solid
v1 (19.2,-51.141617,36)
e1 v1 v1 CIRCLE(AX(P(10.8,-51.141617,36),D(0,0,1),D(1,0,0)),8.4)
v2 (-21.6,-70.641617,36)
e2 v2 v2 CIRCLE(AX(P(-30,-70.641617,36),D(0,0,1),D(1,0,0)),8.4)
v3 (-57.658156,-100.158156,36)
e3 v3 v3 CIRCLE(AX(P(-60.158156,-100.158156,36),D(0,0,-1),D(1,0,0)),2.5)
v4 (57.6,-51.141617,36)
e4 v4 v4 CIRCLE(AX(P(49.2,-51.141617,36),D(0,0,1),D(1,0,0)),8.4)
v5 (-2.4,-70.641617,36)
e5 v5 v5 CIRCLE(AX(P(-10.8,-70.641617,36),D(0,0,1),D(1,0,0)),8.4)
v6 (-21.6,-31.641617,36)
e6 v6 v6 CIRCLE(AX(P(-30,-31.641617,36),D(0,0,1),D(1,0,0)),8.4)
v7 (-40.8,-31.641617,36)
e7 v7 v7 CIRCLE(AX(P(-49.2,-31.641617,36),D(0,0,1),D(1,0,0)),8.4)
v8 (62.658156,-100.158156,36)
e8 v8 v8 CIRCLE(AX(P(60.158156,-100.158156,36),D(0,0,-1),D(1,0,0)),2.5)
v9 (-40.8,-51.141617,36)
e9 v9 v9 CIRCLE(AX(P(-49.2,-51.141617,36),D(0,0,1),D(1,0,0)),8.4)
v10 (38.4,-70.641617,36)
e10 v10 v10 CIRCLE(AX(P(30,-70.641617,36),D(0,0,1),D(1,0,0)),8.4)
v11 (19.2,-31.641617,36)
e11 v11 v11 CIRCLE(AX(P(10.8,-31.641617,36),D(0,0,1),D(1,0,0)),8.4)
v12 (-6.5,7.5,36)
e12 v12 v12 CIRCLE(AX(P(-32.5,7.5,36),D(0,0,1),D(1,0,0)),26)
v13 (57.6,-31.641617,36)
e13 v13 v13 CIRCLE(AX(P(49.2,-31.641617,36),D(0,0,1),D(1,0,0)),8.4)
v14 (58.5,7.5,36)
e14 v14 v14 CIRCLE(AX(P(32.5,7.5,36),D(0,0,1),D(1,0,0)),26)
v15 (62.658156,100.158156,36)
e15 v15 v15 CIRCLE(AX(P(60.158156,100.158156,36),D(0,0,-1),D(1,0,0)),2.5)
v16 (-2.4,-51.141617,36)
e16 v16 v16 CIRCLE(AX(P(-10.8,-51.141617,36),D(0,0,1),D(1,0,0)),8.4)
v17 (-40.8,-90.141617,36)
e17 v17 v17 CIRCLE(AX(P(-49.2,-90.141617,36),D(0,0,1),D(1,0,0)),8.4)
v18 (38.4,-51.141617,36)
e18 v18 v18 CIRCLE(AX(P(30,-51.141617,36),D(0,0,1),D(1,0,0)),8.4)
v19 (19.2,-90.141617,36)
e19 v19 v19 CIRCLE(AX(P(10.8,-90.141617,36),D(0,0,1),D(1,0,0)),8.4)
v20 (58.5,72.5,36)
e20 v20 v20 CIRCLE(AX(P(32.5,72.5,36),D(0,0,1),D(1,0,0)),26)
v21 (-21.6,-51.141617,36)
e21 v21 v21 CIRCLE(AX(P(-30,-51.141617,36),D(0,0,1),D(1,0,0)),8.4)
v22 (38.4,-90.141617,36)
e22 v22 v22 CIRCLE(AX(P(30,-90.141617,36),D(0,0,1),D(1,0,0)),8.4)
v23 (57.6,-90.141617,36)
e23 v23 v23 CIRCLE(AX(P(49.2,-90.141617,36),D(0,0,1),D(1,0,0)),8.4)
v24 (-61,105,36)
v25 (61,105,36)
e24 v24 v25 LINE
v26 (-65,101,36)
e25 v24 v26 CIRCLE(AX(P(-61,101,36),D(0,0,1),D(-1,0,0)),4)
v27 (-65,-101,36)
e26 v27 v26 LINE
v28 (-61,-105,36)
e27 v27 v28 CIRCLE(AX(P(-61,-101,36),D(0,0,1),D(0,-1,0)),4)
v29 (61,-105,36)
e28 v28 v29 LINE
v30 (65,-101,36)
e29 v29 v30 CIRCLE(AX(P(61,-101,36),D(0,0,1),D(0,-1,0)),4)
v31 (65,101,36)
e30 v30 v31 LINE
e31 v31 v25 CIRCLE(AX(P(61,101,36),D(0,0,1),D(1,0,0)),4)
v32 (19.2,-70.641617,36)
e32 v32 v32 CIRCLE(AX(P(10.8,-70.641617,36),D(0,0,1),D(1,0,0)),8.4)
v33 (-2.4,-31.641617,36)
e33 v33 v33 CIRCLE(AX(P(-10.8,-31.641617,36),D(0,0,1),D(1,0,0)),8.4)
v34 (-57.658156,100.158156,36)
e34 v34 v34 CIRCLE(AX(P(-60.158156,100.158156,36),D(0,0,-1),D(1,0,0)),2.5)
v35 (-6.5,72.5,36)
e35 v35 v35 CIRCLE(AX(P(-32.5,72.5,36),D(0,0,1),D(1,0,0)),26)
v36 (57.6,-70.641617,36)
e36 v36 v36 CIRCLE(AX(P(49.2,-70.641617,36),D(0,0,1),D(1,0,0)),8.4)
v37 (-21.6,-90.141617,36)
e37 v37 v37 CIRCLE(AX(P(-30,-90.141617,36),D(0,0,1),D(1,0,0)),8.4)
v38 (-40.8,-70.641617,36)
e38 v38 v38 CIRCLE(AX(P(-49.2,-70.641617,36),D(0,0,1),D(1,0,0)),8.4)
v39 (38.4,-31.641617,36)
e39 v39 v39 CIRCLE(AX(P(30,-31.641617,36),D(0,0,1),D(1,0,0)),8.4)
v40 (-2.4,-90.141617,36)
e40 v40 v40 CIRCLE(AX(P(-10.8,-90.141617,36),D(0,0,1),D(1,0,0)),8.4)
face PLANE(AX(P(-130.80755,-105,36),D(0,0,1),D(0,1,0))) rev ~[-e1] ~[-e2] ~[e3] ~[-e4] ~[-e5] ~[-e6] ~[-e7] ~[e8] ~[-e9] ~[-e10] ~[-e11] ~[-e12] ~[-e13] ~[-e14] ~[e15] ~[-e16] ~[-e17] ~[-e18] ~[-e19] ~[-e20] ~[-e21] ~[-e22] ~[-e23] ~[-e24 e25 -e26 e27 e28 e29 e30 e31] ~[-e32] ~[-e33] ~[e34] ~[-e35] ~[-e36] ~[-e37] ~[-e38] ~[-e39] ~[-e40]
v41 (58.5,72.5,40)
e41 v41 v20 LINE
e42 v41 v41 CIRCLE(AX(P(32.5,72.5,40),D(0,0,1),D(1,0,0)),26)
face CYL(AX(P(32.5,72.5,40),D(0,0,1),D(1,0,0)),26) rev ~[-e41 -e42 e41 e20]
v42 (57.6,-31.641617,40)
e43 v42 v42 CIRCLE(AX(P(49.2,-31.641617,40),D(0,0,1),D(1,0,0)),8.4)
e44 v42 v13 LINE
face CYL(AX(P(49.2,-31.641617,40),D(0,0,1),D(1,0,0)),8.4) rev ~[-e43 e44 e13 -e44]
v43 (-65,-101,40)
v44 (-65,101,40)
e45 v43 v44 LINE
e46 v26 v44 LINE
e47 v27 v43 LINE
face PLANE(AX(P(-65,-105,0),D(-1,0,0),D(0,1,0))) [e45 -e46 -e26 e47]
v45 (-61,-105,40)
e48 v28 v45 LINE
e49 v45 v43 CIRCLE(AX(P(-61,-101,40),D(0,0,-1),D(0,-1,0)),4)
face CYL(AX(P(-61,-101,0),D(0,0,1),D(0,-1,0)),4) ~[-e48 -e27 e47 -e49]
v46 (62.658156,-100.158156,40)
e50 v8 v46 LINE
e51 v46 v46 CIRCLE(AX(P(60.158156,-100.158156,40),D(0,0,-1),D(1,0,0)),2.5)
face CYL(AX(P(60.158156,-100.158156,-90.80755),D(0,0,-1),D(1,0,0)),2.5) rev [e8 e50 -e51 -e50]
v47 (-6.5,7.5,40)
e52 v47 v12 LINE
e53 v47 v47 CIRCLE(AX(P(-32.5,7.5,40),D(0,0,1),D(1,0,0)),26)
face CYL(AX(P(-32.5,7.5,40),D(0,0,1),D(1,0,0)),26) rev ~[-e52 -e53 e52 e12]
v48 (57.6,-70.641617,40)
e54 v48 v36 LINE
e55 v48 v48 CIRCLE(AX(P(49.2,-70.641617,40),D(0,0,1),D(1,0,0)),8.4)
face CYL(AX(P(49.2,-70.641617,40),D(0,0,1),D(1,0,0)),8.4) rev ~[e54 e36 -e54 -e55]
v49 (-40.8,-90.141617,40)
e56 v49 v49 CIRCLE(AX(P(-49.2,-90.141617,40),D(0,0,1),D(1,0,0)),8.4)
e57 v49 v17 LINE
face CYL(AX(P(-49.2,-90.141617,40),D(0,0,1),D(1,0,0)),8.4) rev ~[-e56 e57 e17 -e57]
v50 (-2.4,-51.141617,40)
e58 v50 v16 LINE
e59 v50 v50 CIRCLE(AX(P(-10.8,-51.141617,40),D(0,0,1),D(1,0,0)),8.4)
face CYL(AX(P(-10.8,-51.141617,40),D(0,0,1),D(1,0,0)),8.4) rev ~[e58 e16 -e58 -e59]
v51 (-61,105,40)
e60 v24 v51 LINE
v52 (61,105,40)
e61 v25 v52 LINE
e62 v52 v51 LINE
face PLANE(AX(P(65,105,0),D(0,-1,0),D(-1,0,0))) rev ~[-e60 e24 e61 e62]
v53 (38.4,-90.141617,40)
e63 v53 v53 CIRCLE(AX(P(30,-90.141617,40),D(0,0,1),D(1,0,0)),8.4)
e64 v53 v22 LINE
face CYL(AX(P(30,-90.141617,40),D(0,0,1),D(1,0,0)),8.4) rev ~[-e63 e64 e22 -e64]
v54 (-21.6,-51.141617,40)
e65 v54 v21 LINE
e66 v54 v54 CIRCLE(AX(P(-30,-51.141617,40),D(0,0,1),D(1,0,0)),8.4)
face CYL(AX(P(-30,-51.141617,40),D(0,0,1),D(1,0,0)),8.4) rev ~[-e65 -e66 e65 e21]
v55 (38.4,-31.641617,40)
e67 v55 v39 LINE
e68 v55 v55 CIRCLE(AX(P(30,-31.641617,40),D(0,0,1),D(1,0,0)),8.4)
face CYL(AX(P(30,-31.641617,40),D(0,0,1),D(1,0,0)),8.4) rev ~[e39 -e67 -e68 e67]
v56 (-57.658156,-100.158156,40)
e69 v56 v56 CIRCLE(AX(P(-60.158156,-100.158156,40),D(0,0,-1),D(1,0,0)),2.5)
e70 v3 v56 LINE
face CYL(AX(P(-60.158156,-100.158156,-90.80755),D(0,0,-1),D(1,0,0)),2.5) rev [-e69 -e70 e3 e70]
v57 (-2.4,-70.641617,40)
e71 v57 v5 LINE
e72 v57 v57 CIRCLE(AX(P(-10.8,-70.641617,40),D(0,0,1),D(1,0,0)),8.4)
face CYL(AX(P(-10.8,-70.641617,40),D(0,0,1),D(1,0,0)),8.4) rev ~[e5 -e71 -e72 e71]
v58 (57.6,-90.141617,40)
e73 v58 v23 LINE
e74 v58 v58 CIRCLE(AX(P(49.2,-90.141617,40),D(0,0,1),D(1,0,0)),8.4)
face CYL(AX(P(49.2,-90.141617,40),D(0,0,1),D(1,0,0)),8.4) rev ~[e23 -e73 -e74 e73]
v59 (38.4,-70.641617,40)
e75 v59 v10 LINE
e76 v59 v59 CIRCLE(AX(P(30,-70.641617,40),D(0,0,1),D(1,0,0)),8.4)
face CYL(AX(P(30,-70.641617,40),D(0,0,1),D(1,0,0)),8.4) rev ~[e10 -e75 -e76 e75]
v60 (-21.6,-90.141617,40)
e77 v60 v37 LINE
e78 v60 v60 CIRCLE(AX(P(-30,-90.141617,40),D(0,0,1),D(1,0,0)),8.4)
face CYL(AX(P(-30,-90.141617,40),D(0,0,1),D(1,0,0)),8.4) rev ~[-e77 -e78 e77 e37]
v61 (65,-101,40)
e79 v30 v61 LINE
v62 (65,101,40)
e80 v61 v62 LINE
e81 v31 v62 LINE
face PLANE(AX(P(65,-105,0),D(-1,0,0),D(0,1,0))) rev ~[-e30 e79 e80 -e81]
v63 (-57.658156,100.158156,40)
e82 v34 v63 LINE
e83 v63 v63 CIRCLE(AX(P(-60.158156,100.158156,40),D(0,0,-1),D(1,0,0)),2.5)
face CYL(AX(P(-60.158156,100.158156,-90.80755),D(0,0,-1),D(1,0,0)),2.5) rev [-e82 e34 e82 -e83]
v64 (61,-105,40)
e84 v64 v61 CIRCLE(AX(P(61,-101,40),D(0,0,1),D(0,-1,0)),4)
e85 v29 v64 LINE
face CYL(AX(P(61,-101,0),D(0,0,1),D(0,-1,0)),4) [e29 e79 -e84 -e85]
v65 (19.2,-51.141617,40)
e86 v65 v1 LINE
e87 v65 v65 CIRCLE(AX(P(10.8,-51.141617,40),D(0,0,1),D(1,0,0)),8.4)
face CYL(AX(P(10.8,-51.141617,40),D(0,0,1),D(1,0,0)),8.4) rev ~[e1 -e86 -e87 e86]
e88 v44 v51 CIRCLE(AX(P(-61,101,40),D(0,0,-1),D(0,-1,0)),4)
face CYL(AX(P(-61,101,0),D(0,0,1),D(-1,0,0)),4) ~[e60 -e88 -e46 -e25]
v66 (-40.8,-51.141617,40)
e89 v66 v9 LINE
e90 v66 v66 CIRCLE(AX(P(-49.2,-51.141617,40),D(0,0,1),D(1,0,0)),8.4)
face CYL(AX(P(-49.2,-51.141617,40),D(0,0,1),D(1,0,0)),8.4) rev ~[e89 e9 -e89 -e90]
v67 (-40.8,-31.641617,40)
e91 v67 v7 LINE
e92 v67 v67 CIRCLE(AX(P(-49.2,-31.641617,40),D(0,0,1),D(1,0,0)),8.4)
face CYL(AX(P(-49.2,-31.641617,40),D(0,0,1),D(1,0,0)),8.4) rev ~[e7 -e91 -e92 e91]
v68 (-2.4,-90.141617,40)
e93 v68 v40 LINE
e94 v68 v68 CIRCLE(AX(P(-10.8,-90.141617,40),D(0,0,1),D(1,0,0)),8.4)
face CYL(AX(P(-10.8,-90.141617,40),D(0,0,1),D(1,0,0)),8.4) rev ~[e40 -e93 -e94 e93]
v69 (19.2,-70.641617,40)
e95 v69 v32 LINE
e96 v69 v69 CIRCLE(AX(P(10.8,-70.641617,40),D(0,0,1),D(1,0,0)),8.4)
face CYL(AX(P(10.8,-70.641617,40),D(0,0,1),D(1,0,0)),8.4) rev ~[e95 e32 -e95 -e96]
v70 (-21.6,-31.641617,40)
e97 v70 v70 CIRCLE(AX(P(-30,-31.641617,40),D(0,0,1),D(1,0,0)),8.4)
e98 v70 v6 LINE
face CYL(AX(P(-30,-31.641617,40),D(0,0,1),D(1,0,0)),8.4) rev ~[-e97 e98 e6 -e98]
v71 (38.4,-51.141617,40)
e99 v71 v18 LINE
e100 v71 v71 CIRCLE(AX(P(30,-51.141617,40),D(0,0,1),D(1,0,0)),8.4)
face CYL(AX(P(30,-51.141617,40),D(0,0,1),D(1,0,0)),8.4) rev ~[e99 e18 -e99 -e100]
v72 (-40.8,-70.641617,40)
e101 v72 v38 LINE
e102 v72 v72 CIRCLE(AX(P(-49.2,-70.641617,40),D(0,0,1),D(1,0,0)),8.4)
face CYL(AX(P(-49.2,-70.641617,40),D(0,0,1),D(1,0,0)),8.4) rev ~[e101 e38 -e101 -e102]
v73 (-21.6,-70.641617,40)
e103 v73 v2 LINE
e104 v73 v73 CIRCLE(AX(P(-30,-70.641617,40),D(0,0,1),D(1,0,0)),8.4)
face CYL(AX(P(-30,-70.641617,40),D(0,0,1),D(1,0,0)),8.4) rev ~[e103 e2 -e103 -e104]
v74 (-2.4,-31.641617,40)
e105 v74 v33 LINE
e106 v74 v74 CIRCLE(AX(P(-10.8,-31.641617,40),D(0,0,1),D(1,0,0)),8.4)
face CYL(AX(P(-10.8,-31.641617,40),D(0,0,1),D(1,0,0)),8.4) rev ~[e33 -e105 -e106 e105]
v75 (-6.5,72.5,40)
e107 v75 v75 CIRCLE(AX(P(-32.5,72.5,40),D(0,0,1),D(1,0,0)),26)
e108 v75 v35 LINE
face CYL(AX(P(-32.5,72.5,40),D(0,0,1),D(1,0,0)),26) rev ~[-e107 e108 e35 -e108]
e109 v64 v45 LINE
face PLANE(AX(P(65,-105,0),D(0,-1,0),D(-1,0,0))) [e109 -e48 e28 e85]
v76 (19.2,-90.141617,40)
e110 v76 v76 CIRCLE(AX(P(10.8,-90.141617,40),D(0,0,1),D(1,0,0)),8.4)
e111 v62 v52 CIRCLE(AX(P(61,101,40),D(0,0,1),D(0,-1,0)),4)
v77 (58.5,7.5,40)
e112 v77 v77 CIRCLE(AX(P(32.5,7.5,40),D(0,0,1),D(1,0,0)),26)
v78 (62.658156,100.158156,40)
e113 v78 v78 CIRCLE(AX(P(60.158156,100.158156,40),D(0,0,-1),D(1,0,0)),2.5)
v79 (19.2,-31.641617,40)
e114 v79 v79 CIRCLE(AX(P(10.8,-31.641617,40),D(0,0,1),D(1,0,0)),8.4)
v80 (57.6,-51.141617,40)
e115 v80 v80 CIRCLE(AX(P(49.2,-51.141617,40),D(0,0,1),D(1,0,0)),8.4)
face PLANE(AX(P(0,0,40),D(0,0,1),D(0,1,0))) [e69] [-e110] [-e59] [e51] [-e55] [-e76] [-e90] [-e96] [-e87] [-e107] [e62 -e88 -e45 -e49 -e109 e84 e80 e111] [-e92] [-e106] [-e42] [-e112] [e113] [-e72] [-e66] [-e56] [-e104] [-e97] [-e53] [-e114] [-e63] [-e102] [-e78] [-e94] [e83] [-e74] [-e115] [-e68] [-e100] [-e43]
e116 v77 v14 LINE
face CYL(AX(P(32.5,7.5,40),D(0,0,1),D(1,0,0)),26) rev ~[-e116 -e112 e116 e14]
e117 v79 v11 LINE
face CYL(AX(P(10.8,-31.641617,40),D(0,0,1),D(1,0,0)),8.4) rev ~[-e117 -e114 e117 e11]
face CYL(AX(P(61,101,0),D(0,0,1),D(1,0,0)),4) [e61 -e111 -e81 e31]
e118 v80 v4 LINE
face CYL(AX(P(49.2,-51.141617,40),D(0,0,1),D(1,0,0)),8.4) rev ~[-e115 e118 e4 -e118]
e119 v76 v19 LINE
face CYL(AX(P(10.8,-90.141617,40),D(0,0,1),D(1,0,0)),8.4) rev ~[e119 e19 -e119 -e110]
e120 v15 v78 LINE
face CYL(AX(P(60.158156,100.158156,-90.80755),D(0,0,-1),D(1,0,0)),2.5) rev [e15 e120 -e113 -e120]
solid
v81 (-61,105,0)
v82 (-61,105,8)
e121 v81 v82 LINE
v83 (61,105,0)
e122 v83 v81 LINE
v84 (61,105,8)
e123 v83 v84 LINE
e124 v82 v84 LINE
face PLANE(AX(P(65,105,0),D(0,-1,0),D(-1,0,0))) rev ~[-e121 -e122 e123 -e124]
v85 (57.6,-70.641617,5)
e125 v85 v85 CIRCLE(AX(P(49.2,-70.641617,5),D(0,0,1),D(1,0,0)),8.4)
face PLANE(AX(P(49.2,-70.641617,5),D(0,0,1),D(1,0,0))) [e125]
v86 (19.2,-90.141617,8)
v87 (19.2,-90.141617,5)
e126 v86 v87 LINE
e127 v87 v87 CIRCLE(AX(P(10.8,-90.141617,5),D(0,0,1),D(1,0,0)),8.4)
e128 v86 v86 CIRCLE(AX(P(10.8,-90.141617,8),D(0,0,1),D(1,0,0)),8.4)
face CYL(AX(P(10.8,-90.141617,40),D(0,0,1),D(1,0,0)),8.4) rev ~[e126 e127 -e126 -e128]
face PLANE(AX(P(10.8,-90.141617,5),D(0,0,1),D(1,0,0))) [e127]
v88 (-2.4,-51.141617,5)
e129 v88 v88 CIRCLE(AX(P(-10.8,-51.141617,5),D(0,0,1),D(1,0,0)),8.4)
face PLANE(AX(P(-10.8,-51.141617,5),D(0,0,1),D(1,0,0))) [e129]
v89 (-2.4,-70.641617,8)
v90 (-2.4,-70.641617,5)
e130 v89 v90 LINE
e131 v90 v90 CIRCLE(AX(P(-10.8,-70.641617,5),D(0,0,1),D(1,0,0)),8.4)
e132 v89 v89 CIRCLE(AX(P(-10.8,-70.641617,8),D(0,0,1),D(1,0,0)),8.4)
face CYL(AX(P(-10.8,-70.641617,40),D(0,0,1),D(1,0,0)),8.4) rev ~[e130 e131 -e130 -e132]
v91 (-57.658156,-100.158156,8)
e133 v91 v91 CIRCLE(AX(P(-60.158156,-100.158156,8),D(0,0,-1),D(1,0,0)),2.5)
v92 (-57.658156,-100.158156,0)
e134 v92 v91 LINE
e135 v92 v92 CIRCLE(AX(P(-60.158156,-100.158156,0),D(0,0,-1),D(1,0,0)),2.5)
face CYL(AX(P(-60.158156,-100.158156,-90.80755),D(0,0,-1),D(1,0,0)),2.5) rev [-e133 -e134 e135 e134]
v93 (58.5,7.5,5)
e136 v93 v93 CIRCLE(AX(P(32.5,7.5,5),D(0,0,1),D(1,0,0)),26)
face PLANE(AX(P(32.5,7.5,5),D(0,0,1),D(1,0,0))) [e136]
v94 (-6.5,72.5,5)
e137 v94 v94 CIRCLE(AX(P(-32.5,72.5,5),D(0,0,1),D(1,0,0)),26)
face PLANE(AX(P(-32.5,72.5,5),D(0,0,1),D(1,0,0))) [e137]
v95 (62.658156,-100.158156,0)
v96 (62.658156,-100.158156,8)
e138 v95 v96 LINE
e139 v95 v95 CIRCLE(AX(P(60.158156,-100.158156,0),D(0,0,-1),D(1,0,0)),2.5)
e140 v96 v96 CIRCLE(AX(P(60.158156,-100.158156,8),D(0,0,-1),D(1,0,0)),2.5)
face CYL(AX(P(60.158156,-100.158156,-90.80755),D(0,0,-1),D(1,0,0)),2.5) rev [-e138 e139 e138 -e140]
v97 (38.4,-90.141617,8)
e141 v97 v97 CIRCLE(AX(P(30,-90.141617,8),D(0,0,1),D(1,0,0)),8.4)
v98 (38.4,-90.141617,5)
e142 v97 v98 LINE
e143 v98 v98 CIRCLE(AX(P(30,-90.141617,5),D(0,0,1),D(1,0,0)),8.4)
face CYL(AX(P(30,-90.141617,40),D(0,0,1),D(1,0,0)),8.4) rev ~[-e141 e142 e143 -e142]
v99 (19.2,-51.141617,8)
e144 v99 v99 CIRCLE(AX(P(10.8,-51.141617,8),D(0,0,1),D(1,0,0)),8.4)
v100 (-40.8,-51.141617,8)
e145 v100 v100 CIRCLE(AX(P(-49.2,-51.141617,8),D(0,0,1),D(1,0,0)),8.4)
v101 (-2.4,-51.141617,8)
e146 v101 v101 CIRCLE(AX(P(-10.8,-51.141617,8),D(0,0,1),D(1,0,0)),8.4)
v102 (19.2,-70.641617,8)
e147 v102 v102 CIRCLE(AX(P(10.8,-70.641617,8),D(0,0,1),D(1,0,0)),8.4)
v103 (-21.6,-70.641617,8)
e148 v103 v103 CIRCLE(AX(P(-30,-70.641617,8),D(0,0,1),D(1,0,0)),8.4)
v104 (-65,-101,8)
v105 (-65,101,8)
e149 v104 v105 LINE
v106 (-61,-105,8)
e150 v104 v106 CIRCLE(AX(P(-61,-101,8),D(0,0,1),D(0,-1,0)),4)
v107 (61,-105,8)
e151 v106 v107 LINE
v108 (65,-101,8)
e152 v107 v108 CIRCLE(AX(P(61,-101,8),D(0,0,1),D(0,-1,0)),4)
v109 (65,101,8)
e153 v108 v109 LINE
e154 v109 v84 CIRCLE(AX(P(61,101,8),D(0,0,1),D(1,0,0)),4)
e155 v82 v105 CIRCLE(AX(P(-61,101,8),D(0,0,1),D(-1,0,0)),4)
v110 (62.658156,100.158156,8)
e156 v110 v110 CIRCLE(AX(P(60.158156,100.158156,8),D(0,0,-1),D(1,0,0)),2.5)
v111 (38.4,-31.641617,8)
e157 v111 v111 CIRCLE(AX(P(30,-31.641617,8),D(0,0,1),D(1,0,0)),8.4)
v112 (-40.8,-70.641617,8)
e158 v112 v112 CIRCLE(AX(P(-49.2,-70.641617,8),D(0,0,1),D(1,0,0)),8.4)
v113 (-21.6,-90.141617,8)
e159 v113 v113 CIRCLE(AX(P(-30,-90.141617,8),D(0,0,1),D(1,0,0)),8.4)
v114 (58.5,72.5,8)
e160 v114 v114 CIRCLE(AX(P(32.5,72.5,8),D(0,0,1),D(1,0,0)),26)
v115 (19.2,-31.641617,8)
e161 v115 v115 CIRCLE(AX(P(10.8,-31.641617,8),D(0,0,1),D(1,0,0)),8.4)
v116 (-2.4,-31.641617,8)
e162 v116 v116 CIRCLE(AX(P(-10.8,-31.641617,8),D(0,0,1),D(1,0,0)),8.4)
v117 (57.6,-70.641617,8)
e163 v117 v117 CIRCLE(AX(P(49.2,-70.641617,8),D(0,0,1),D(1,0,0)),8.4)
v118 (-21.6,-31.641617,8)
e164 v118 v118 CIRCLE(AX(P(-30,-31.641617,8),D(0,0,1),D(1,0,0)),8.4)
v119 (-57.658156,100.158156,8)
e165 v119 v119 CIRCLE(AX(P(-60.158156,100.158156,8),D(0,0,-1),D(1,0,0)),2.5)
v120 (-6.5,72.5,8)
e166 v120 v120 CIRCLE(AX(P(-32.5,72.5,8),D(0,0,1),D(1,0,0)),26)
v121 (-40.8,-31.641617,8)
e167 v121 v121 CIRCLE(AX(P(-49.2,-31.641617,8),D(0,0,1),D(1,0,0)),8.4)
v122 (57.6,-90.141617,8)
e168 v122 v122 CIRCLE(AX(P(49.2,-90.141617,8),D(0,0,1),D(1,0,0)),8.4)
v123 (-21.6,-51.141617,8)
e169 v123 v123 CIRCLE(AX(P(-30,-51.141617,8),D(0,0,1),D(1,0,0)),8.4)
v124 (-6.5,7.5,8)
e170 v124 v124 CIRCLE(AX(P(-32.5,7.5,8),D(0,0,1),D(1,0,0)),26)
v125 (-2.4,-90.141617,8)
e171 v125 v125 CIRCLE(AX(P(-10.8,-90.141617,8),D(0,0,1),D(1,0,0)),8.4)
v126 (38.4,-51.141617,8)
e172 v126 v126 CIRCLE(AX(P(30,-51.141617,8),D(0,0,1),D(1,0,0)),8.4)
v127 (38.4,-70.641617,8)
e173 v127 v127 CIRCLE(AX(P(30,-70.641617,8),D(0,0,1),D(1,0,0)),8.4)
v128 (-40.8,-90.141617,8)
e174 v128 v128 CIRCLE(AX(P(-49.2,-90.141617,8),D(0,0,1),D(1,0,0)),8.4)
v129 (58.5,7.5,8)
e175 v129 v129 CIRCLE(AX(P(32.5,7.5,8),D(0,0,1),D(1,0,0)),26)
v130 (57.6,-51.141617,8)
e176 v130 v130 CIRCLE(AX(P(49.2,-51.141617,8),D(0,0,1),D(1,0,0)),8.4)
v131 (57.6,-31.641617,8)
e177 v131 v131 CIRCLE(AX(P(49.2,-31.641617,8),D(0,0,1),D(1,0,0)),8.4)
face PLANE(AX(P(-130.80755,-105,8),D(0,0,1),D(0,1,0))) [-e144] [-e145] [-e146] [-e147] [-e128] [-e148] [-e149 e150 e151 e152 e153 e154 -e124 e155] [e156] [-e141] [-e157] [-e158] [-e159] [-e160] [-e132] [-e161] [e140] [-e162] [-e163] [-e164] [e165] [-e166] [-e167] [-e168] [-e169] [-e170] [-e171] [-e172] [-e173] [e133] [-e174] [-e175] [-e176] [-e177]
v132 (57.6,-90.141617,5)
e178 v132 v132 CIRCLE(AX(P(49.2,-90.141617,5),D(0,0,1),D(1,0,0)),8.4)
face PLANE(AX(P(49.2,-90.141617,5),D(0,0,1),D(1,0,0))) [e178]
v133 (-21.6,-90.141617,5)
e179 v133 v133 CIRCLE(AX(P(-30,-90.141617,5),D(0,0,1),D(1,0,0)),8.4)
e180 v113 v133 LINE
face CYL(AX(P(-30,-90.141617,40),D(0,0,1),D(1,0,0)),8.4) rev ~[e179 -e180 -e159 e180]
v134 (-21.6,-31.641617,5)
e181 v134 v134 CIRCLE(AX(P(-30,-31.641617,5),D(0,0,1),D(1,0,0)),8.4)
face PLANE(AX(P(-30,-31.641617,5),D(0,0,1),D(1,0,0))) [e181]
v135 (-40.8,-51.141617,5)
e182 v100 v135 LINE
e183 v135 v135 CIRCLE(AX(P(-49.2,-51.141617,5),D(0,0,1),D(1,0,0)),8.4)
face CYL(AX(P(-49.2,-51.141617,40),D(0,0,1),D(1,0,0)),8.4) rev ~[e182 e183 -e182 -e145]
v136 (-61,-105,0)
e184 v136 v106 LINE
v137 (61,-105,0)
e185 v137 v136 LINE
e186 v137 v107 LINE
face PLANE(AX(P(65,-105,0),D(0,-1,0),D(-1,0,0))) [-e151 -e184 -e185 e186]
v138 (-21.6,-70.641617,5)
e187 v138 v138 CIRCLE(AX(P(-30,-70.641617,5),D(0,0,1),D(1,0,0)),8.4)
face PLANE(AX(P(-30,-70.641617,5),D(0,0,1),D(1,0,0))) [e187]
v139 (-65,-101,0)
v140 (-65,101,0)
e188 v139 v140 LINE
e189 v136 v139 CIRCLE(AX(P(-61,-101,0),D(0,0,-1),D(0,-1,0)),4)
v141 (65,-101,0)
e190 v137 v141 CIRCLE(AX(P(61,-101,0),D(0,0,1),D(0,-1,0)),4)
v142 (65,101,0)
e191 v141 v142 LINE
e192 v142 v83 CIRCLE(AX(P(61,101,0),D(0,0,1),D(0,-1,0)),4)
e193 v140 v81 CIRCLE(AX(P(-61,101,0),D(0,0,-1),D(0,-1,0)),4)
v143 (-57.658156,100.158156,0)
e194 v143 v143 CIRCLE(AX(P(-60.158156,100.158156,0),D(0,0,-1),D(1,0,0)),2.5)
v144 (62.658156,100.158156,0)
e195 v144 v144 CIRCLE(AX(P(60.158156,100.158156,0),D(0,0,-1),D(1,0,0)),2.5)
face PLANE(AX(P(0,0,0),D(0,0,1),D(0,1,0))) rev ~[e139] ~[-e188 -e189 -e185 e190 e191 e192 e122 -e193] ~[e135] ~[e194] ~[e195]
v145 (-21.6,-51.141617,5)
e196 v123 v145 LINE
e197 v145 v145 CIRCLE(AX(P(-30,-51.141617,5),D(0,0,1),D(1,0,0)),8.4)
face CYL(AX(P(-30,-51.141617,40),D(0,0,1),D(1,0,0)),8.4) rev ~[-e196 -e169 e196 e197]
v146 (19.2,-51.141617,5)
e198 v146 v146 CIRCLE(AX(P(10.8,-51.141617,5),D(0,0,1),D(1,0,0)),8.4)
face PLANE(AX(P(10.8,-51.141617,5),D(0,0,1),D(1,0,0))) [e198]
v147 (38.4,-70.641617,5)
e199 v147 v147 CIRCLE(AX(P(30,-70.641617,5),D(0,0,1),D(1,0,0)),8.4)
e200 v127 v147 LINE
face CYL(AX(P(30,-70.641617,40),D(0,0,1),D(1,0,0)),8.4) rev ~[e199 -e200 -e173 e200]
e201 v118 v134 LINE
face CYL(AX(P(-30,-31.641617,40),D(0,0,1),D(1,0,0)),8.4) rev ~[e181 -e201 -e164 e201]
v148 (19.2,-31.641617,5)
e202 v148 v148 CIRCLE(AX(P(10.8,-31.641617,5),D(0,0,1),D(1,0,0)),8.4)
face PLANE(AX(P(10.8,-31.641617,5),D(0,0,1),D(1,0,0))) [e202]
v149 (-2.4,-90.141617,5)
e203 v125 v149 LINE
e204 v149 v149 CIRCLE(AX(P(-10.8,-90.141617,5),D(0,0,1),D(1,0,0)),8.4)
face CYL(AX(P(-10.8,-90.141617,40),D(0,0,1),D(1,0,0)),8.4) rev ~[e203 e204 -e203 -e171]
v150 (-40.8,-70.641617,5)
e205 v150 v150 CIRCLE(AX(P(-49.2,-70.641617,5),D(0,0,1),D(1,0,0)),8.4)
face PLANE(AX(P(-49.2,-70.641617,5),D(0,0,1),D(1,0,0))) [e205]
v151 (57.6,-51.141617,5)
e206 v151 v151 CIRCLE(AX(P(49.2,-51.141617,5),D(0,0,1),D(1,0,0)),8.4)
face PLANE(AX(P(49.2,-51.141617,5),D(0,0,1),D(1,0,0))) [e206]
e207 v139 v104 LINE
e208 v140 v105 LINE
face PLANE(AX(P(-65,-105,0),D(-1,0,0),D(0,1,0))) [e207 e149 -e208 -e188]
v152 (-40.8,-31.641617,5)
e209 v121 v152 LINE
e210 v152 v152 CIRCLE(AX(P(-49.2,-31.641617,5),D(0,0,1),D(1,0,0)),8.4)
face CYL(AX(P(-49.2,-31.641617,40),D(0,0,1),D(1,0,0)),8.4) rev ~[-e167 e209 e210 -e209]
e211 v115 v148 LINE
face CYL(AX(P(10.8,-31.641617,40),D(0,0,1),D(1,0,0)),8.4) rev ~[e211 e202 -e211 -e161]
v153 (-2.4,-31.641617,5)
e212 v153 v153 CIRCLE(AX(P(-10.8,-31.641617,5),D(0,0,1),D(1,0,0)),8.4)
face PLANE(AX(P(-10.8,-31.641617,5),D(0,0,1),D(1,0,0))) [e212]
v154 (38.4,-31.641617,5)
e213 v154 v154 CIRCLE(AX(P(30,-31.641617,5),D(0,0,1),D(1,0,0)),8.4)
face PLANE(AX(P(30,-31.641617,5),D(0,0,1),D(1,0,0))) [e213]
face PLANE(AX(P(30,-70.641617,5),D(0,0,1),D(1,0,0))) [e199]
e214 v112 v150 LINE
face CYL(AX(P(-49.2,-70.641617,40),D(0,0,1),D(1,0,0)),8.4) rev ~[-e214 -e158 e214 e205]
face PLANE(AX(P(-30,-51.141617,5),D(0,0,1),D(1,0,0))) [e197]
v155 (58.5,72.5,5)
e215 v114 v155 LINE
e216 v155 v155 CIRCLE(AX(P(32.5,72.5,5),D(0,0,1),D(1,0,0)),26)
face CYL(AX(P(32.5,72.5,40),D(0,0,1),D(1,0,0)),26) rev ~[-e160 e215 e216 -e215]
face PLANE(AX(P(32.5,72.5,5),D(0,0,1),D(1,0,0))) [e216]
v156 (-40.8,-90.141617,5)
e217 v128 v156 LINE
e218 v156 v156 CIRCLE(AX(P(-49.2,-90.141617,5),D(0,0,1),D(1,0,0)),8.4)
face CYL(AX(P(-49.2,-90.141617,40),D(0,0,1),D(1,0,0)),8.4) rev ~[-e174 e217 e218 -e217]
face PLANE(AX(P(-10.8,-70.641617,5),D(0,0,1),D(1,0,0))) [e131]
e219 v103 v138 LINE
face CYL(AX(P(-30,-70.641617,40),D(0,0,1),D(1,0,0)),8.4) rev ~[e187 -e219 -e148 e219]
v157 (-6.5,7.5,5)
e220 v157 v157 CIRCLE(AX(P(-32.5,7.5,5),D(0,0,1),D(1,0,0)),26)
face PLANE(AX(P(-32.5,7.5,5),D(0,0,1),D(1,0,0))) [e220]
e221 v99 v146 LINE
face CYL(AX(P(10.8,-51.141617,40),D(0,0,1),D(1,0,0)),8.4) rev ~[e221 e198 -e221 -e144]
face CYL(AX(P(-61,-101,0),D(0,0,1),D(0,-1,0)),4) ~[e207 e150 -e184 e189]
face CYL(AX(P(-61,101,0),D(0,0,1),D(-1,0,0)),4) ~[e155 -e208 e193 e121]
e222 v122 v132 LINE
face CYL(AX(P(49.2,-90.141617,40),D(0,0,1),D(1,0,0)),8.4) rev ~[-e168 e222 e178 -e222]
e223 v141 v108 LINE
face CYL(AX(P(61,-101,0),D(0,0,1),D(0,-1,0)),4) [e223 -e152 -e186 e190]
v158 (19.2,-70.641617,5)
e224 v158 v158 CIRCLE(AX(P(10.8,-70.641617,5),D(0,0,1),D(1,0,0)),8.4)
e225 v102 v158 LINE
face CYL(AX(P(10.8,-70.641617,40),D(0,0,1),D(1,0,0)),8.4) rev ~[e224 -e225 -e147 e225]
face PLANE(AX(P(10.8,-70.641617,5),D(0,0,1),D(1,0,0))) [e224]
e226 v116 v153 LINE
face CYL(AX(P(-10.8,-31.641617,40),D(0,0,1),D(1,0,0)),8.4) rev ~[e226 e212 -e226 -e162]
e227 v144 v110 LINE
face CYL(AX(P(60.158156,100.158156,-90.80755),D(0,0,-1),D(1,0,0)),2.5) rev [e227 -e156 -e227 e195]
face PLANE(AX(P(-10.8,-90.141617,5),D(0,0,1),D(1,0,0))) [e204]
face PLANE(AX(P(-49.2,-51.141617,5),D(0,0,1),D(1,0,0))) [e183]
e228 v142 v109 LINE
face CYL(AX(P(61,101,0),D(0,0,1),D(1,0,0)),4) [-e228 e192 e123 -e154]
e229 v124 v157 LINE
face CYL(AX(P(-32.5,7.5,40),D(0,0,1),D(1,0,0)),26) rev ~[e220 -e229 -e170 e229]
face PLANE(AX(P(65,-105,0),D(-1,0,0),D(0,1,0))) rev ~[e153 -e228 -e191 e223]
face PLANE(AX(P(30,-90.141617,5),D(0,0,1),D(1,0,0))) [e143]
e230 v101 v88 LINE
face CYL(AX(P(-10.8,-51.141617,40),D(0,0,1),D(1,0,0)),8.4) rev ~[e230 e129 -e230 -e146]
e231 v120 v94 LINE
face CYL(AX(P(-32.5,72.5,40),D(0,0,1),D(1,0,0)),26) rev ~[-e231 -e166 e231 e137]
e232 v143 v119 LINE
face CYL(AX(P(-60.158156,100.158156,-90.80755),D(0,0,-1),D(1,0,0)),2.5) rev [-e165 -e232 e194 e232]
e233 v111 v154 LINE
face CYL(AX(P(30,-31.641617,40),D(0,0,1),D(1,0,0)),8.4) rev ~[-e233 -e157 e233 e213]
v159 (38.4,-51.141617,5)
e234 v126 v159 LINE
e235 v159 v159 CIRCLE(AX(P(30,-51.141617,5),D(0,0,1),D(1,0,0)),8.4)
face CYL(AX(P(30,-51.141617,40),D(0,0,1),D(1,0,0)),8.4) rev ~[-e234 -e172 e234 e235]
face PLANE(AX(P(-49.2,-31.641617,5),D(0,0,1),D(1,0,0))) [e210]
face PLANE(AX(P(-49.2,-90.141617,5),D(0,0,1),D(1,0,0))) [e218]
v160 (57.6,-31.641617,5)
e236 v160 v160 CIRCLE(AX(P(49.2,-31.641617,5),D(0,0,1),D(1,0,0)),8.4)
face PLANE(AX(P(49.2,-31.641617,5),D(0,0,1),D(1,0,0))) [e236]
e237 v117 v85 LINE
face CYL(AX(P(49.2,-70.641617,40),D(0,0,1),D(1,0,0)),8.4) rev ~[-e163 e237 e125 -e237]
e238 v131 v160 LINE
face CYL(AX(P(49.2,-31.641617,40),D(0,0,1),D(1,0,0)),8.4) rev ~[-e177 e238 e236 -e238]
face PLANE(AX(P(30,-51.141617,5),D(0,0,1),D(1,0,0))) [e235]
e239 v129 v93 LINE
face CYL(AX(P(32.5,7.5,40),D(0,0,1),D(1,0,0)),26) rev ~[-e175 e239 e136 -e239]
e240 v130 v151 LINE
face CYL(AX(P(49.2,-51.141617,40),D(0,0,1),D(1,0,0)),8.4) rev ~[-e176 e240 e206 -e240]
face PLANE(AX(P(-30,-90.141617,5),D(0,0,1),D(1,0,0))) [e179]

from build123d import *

# Parameters (mm, degrees)
SKETCH1_W                          = 210
SKETCH1_H                          = 130
F_120_X_200_X_67_TH_DEPTH          = 40
SKETCH2_R                          = 26
SKETCH2_R_2                        = 8.4
F_16_8_D_AND_52_D_TUBE_HOLES_DEPTH = 35
F_4_MM_R_FILET_R                   = 4
CUT_EXTRUDE1_DEPTH                 = 130.807549857
CUT_EXTRUDE1_DEPTH_BACK            = 130.807549857
SKETCH3_W                          = 210
SKETCH3_H                          = 28
CUT_EXTRUDE2_DEPTH                 = 130.807549857
CUT_EXTRUDE2_DEPTH_BACK            = 130.807549857
SKETCH2_3_R                        = 2.5


with BuildPart() as part:
    # Sketch1 → 120 x 200 x 67 th (new body)
    with BuildSketch(Plane(origin=(0, 0, 0), x_dir=(0, 1, 0), z_dir=(0, 0, 1))):
        Rectangle(SKETCH1_W, SKETCH1_H)
    extrude(amount=F_120_X_200_X_67_TH_DEPTH)

    # Sketch2 → 16.8 D and 52 D tube holes (cut)
    with BuildSketch(Plane.XY.offset(40)):
        with Locations((-32.5, 72.5)):
            Circle(SKETCH2_R)
        with Locations((10.8, -31.641617153)):
            Circle(SKETCH2_R_2)
        with Locations((30, -31.641617153)):
            Circle(SKETCH2_R_2)
        with Locations((49.2, -31.641617153)):
            Circle(SKETCH2_R_2)
        with Locations((-10.8, -31.641617153)):
            Circle(SKETCH2_R_2)
        with Locations((-30, -31.641617153)):
            Circle(SKETCH2_R_2)
        with Locations((-49.2, -31.641617153)):
            Circle(SKETCH2_R_2)
        with Locations((10.8, -51.141617153)):
            Circle(SKETCH2_R_2)
        with Locations((30, -51.141617153)):
            Circle(SKETCH2_R_2)
        with Locations((49.2, -51.141617153)):
            Circle(SKETCH2_R_2)
        with Locations((-10.8, -51.141617153)):
            Circle(SKETCH2_R_2)
        with Locations((-30, -51.141617153)):
            Circle(SKETCH2_R_2)
        with Locations((-49.2, -51.141617153)):
            Circle(SKETCH2_R_2)
        with Locations((10.8, -70.641617153)):
            Circle(SKETCH2_R_2)
        with Locations((30, -70.641617153)):
            Circle(SKETCH2_R_2)
        with Locations((49.2, -70.641617153)):
            Circle(SKETCH2_R_2)
        with Locations((-10.8, -70.641617153)):
            Circle(SKETCH2_R_2)
        with Locations((-30, -70.641617153)):
            Circle(SKETCH2_R_2)
        with Locations((-49.2, -70.641617153)):
            Circle(SKETCH2_R_2)
        with Locations((10.8, -90.141617153)):
            Circle(SKETCH2_R_2)
        with Locations((30, -90.141617153)):
            Circle(SKETCH2_R_2)
        with Locations((49.2, -90.141617153)):
            Circle(SKETCH2_R_2)
        with Locations((-10.8, -90.141617153)):
            Circle(SKETCH2_R_2)
        with Locations((-30, -90.141617153)):
            Circle(SKETCH2_R_2)
        with Locations((-49.2, -90.141617153)):
            Circle(SKETCH2_R_2)
        with Locations((32.5, 72.5)):
            Circle(SKETCH2_R)
        with Locations((32.5, 7.5)):
            Circle(SKETCH2_R)
        with Locations((-32.5, 7.5)):
            Circle(SKETCH2_R)
    extrude(amount=-F_16_8_D_AND_52_D_TUBE_HOLES_DEPTH, mode=Mode.SUBTRACT)

    # 4 mm R filet
    f_4_mm_r_filet_edges = [part.edges().sort_by_distance(p)[0] for p in [
        (65, 105, 20),
        (65, -105, 20),
        (-65, -105, 20),
        (-65, 105, 20),
    ]]
    fillet(f_4_mm_r_filet_edges, radius=F_4_MM_R_FILET_R)

    # Sketch3 → Cut-Extrude1 (cut, two sides: drawn at the far end of the back side and taken through both)
    with BuildSketch(Plane.YZ.offset(-CUT_EXTRUDE1_DEPTH_BACK)):
        with Locations((0, 22)):
            Rectangle(SKETCH3_W, SKETCH3_H)
    extrude(amount=CUT_EXTRUDE1_DEPTH + CUT_EXTRUDE1_DEPTH_BACK, mode=Mode.SUBTRACT)


with BuildPart() as cut_extrude1_piece_1:
    # of the separate pieces the step leaves, piece 1, a body of its own (cut_extrude1_pieces)
    add(part.part.solids().sort_by_distance((65, -101, 0))[0])


with BuildPart() as cut_extrude1_piece_2:
    # of the separate pieces the step leaves, piece 2, a body of its own (cut_extrude1_pieces)
    add(part.part.solids().sort_by_distance((65, 101, 36))[0])


with BuildPart() as cut_extrude2_tool:
    # Sketch2<3> → Cut-Extrude2 (new, two sides: drawn at the far end of the back side and taken through both)
    with BuildSketch(Plane.XY.offset(40).offset(-CUT_EXTRUDE2_DEPTH_BACK)):
        with Locations((-60.158155916, -100.158155916)):
            Circle(SKETCH2_3_R)
        with Locations((60.158155916, -100.158155916)):
            Circle(SKETCH2_3_R)
        with Locations((-60.158155916, 100.158155916)):
            Circle(SKETCH2_3_R)
        with Locations((60.158155916, 100.158155916)):
            Circle(SKETCH2_3_R)
    extrude(amount=CUT_EXTRUDE2_DEPTH + CUT_EXTRUDE2_DEPTH_BACK)


with BuildPart() as cut_extrude1_piece_1_1:
    add(cut_extrude1_piece_1.part)

    # Cut-Extrude2: cut by cut_extrude2_tool
    add(cut_extrude2_tool.part, mode=Mode.SUBTRACT)


with BuildPart() as cut_extrude1_piece_2_1:
    add(cut_extrude1_piece_2.part)

    # Cut-Extrude2: cut by cut_extrude2_tool
    add(cut_extrude2_tool.part, mode=Mode.SUBTRACT)


solid = Compound([cut_extrude1_piece_1_1.part, cut_extrude1_piece_2_1.part])
